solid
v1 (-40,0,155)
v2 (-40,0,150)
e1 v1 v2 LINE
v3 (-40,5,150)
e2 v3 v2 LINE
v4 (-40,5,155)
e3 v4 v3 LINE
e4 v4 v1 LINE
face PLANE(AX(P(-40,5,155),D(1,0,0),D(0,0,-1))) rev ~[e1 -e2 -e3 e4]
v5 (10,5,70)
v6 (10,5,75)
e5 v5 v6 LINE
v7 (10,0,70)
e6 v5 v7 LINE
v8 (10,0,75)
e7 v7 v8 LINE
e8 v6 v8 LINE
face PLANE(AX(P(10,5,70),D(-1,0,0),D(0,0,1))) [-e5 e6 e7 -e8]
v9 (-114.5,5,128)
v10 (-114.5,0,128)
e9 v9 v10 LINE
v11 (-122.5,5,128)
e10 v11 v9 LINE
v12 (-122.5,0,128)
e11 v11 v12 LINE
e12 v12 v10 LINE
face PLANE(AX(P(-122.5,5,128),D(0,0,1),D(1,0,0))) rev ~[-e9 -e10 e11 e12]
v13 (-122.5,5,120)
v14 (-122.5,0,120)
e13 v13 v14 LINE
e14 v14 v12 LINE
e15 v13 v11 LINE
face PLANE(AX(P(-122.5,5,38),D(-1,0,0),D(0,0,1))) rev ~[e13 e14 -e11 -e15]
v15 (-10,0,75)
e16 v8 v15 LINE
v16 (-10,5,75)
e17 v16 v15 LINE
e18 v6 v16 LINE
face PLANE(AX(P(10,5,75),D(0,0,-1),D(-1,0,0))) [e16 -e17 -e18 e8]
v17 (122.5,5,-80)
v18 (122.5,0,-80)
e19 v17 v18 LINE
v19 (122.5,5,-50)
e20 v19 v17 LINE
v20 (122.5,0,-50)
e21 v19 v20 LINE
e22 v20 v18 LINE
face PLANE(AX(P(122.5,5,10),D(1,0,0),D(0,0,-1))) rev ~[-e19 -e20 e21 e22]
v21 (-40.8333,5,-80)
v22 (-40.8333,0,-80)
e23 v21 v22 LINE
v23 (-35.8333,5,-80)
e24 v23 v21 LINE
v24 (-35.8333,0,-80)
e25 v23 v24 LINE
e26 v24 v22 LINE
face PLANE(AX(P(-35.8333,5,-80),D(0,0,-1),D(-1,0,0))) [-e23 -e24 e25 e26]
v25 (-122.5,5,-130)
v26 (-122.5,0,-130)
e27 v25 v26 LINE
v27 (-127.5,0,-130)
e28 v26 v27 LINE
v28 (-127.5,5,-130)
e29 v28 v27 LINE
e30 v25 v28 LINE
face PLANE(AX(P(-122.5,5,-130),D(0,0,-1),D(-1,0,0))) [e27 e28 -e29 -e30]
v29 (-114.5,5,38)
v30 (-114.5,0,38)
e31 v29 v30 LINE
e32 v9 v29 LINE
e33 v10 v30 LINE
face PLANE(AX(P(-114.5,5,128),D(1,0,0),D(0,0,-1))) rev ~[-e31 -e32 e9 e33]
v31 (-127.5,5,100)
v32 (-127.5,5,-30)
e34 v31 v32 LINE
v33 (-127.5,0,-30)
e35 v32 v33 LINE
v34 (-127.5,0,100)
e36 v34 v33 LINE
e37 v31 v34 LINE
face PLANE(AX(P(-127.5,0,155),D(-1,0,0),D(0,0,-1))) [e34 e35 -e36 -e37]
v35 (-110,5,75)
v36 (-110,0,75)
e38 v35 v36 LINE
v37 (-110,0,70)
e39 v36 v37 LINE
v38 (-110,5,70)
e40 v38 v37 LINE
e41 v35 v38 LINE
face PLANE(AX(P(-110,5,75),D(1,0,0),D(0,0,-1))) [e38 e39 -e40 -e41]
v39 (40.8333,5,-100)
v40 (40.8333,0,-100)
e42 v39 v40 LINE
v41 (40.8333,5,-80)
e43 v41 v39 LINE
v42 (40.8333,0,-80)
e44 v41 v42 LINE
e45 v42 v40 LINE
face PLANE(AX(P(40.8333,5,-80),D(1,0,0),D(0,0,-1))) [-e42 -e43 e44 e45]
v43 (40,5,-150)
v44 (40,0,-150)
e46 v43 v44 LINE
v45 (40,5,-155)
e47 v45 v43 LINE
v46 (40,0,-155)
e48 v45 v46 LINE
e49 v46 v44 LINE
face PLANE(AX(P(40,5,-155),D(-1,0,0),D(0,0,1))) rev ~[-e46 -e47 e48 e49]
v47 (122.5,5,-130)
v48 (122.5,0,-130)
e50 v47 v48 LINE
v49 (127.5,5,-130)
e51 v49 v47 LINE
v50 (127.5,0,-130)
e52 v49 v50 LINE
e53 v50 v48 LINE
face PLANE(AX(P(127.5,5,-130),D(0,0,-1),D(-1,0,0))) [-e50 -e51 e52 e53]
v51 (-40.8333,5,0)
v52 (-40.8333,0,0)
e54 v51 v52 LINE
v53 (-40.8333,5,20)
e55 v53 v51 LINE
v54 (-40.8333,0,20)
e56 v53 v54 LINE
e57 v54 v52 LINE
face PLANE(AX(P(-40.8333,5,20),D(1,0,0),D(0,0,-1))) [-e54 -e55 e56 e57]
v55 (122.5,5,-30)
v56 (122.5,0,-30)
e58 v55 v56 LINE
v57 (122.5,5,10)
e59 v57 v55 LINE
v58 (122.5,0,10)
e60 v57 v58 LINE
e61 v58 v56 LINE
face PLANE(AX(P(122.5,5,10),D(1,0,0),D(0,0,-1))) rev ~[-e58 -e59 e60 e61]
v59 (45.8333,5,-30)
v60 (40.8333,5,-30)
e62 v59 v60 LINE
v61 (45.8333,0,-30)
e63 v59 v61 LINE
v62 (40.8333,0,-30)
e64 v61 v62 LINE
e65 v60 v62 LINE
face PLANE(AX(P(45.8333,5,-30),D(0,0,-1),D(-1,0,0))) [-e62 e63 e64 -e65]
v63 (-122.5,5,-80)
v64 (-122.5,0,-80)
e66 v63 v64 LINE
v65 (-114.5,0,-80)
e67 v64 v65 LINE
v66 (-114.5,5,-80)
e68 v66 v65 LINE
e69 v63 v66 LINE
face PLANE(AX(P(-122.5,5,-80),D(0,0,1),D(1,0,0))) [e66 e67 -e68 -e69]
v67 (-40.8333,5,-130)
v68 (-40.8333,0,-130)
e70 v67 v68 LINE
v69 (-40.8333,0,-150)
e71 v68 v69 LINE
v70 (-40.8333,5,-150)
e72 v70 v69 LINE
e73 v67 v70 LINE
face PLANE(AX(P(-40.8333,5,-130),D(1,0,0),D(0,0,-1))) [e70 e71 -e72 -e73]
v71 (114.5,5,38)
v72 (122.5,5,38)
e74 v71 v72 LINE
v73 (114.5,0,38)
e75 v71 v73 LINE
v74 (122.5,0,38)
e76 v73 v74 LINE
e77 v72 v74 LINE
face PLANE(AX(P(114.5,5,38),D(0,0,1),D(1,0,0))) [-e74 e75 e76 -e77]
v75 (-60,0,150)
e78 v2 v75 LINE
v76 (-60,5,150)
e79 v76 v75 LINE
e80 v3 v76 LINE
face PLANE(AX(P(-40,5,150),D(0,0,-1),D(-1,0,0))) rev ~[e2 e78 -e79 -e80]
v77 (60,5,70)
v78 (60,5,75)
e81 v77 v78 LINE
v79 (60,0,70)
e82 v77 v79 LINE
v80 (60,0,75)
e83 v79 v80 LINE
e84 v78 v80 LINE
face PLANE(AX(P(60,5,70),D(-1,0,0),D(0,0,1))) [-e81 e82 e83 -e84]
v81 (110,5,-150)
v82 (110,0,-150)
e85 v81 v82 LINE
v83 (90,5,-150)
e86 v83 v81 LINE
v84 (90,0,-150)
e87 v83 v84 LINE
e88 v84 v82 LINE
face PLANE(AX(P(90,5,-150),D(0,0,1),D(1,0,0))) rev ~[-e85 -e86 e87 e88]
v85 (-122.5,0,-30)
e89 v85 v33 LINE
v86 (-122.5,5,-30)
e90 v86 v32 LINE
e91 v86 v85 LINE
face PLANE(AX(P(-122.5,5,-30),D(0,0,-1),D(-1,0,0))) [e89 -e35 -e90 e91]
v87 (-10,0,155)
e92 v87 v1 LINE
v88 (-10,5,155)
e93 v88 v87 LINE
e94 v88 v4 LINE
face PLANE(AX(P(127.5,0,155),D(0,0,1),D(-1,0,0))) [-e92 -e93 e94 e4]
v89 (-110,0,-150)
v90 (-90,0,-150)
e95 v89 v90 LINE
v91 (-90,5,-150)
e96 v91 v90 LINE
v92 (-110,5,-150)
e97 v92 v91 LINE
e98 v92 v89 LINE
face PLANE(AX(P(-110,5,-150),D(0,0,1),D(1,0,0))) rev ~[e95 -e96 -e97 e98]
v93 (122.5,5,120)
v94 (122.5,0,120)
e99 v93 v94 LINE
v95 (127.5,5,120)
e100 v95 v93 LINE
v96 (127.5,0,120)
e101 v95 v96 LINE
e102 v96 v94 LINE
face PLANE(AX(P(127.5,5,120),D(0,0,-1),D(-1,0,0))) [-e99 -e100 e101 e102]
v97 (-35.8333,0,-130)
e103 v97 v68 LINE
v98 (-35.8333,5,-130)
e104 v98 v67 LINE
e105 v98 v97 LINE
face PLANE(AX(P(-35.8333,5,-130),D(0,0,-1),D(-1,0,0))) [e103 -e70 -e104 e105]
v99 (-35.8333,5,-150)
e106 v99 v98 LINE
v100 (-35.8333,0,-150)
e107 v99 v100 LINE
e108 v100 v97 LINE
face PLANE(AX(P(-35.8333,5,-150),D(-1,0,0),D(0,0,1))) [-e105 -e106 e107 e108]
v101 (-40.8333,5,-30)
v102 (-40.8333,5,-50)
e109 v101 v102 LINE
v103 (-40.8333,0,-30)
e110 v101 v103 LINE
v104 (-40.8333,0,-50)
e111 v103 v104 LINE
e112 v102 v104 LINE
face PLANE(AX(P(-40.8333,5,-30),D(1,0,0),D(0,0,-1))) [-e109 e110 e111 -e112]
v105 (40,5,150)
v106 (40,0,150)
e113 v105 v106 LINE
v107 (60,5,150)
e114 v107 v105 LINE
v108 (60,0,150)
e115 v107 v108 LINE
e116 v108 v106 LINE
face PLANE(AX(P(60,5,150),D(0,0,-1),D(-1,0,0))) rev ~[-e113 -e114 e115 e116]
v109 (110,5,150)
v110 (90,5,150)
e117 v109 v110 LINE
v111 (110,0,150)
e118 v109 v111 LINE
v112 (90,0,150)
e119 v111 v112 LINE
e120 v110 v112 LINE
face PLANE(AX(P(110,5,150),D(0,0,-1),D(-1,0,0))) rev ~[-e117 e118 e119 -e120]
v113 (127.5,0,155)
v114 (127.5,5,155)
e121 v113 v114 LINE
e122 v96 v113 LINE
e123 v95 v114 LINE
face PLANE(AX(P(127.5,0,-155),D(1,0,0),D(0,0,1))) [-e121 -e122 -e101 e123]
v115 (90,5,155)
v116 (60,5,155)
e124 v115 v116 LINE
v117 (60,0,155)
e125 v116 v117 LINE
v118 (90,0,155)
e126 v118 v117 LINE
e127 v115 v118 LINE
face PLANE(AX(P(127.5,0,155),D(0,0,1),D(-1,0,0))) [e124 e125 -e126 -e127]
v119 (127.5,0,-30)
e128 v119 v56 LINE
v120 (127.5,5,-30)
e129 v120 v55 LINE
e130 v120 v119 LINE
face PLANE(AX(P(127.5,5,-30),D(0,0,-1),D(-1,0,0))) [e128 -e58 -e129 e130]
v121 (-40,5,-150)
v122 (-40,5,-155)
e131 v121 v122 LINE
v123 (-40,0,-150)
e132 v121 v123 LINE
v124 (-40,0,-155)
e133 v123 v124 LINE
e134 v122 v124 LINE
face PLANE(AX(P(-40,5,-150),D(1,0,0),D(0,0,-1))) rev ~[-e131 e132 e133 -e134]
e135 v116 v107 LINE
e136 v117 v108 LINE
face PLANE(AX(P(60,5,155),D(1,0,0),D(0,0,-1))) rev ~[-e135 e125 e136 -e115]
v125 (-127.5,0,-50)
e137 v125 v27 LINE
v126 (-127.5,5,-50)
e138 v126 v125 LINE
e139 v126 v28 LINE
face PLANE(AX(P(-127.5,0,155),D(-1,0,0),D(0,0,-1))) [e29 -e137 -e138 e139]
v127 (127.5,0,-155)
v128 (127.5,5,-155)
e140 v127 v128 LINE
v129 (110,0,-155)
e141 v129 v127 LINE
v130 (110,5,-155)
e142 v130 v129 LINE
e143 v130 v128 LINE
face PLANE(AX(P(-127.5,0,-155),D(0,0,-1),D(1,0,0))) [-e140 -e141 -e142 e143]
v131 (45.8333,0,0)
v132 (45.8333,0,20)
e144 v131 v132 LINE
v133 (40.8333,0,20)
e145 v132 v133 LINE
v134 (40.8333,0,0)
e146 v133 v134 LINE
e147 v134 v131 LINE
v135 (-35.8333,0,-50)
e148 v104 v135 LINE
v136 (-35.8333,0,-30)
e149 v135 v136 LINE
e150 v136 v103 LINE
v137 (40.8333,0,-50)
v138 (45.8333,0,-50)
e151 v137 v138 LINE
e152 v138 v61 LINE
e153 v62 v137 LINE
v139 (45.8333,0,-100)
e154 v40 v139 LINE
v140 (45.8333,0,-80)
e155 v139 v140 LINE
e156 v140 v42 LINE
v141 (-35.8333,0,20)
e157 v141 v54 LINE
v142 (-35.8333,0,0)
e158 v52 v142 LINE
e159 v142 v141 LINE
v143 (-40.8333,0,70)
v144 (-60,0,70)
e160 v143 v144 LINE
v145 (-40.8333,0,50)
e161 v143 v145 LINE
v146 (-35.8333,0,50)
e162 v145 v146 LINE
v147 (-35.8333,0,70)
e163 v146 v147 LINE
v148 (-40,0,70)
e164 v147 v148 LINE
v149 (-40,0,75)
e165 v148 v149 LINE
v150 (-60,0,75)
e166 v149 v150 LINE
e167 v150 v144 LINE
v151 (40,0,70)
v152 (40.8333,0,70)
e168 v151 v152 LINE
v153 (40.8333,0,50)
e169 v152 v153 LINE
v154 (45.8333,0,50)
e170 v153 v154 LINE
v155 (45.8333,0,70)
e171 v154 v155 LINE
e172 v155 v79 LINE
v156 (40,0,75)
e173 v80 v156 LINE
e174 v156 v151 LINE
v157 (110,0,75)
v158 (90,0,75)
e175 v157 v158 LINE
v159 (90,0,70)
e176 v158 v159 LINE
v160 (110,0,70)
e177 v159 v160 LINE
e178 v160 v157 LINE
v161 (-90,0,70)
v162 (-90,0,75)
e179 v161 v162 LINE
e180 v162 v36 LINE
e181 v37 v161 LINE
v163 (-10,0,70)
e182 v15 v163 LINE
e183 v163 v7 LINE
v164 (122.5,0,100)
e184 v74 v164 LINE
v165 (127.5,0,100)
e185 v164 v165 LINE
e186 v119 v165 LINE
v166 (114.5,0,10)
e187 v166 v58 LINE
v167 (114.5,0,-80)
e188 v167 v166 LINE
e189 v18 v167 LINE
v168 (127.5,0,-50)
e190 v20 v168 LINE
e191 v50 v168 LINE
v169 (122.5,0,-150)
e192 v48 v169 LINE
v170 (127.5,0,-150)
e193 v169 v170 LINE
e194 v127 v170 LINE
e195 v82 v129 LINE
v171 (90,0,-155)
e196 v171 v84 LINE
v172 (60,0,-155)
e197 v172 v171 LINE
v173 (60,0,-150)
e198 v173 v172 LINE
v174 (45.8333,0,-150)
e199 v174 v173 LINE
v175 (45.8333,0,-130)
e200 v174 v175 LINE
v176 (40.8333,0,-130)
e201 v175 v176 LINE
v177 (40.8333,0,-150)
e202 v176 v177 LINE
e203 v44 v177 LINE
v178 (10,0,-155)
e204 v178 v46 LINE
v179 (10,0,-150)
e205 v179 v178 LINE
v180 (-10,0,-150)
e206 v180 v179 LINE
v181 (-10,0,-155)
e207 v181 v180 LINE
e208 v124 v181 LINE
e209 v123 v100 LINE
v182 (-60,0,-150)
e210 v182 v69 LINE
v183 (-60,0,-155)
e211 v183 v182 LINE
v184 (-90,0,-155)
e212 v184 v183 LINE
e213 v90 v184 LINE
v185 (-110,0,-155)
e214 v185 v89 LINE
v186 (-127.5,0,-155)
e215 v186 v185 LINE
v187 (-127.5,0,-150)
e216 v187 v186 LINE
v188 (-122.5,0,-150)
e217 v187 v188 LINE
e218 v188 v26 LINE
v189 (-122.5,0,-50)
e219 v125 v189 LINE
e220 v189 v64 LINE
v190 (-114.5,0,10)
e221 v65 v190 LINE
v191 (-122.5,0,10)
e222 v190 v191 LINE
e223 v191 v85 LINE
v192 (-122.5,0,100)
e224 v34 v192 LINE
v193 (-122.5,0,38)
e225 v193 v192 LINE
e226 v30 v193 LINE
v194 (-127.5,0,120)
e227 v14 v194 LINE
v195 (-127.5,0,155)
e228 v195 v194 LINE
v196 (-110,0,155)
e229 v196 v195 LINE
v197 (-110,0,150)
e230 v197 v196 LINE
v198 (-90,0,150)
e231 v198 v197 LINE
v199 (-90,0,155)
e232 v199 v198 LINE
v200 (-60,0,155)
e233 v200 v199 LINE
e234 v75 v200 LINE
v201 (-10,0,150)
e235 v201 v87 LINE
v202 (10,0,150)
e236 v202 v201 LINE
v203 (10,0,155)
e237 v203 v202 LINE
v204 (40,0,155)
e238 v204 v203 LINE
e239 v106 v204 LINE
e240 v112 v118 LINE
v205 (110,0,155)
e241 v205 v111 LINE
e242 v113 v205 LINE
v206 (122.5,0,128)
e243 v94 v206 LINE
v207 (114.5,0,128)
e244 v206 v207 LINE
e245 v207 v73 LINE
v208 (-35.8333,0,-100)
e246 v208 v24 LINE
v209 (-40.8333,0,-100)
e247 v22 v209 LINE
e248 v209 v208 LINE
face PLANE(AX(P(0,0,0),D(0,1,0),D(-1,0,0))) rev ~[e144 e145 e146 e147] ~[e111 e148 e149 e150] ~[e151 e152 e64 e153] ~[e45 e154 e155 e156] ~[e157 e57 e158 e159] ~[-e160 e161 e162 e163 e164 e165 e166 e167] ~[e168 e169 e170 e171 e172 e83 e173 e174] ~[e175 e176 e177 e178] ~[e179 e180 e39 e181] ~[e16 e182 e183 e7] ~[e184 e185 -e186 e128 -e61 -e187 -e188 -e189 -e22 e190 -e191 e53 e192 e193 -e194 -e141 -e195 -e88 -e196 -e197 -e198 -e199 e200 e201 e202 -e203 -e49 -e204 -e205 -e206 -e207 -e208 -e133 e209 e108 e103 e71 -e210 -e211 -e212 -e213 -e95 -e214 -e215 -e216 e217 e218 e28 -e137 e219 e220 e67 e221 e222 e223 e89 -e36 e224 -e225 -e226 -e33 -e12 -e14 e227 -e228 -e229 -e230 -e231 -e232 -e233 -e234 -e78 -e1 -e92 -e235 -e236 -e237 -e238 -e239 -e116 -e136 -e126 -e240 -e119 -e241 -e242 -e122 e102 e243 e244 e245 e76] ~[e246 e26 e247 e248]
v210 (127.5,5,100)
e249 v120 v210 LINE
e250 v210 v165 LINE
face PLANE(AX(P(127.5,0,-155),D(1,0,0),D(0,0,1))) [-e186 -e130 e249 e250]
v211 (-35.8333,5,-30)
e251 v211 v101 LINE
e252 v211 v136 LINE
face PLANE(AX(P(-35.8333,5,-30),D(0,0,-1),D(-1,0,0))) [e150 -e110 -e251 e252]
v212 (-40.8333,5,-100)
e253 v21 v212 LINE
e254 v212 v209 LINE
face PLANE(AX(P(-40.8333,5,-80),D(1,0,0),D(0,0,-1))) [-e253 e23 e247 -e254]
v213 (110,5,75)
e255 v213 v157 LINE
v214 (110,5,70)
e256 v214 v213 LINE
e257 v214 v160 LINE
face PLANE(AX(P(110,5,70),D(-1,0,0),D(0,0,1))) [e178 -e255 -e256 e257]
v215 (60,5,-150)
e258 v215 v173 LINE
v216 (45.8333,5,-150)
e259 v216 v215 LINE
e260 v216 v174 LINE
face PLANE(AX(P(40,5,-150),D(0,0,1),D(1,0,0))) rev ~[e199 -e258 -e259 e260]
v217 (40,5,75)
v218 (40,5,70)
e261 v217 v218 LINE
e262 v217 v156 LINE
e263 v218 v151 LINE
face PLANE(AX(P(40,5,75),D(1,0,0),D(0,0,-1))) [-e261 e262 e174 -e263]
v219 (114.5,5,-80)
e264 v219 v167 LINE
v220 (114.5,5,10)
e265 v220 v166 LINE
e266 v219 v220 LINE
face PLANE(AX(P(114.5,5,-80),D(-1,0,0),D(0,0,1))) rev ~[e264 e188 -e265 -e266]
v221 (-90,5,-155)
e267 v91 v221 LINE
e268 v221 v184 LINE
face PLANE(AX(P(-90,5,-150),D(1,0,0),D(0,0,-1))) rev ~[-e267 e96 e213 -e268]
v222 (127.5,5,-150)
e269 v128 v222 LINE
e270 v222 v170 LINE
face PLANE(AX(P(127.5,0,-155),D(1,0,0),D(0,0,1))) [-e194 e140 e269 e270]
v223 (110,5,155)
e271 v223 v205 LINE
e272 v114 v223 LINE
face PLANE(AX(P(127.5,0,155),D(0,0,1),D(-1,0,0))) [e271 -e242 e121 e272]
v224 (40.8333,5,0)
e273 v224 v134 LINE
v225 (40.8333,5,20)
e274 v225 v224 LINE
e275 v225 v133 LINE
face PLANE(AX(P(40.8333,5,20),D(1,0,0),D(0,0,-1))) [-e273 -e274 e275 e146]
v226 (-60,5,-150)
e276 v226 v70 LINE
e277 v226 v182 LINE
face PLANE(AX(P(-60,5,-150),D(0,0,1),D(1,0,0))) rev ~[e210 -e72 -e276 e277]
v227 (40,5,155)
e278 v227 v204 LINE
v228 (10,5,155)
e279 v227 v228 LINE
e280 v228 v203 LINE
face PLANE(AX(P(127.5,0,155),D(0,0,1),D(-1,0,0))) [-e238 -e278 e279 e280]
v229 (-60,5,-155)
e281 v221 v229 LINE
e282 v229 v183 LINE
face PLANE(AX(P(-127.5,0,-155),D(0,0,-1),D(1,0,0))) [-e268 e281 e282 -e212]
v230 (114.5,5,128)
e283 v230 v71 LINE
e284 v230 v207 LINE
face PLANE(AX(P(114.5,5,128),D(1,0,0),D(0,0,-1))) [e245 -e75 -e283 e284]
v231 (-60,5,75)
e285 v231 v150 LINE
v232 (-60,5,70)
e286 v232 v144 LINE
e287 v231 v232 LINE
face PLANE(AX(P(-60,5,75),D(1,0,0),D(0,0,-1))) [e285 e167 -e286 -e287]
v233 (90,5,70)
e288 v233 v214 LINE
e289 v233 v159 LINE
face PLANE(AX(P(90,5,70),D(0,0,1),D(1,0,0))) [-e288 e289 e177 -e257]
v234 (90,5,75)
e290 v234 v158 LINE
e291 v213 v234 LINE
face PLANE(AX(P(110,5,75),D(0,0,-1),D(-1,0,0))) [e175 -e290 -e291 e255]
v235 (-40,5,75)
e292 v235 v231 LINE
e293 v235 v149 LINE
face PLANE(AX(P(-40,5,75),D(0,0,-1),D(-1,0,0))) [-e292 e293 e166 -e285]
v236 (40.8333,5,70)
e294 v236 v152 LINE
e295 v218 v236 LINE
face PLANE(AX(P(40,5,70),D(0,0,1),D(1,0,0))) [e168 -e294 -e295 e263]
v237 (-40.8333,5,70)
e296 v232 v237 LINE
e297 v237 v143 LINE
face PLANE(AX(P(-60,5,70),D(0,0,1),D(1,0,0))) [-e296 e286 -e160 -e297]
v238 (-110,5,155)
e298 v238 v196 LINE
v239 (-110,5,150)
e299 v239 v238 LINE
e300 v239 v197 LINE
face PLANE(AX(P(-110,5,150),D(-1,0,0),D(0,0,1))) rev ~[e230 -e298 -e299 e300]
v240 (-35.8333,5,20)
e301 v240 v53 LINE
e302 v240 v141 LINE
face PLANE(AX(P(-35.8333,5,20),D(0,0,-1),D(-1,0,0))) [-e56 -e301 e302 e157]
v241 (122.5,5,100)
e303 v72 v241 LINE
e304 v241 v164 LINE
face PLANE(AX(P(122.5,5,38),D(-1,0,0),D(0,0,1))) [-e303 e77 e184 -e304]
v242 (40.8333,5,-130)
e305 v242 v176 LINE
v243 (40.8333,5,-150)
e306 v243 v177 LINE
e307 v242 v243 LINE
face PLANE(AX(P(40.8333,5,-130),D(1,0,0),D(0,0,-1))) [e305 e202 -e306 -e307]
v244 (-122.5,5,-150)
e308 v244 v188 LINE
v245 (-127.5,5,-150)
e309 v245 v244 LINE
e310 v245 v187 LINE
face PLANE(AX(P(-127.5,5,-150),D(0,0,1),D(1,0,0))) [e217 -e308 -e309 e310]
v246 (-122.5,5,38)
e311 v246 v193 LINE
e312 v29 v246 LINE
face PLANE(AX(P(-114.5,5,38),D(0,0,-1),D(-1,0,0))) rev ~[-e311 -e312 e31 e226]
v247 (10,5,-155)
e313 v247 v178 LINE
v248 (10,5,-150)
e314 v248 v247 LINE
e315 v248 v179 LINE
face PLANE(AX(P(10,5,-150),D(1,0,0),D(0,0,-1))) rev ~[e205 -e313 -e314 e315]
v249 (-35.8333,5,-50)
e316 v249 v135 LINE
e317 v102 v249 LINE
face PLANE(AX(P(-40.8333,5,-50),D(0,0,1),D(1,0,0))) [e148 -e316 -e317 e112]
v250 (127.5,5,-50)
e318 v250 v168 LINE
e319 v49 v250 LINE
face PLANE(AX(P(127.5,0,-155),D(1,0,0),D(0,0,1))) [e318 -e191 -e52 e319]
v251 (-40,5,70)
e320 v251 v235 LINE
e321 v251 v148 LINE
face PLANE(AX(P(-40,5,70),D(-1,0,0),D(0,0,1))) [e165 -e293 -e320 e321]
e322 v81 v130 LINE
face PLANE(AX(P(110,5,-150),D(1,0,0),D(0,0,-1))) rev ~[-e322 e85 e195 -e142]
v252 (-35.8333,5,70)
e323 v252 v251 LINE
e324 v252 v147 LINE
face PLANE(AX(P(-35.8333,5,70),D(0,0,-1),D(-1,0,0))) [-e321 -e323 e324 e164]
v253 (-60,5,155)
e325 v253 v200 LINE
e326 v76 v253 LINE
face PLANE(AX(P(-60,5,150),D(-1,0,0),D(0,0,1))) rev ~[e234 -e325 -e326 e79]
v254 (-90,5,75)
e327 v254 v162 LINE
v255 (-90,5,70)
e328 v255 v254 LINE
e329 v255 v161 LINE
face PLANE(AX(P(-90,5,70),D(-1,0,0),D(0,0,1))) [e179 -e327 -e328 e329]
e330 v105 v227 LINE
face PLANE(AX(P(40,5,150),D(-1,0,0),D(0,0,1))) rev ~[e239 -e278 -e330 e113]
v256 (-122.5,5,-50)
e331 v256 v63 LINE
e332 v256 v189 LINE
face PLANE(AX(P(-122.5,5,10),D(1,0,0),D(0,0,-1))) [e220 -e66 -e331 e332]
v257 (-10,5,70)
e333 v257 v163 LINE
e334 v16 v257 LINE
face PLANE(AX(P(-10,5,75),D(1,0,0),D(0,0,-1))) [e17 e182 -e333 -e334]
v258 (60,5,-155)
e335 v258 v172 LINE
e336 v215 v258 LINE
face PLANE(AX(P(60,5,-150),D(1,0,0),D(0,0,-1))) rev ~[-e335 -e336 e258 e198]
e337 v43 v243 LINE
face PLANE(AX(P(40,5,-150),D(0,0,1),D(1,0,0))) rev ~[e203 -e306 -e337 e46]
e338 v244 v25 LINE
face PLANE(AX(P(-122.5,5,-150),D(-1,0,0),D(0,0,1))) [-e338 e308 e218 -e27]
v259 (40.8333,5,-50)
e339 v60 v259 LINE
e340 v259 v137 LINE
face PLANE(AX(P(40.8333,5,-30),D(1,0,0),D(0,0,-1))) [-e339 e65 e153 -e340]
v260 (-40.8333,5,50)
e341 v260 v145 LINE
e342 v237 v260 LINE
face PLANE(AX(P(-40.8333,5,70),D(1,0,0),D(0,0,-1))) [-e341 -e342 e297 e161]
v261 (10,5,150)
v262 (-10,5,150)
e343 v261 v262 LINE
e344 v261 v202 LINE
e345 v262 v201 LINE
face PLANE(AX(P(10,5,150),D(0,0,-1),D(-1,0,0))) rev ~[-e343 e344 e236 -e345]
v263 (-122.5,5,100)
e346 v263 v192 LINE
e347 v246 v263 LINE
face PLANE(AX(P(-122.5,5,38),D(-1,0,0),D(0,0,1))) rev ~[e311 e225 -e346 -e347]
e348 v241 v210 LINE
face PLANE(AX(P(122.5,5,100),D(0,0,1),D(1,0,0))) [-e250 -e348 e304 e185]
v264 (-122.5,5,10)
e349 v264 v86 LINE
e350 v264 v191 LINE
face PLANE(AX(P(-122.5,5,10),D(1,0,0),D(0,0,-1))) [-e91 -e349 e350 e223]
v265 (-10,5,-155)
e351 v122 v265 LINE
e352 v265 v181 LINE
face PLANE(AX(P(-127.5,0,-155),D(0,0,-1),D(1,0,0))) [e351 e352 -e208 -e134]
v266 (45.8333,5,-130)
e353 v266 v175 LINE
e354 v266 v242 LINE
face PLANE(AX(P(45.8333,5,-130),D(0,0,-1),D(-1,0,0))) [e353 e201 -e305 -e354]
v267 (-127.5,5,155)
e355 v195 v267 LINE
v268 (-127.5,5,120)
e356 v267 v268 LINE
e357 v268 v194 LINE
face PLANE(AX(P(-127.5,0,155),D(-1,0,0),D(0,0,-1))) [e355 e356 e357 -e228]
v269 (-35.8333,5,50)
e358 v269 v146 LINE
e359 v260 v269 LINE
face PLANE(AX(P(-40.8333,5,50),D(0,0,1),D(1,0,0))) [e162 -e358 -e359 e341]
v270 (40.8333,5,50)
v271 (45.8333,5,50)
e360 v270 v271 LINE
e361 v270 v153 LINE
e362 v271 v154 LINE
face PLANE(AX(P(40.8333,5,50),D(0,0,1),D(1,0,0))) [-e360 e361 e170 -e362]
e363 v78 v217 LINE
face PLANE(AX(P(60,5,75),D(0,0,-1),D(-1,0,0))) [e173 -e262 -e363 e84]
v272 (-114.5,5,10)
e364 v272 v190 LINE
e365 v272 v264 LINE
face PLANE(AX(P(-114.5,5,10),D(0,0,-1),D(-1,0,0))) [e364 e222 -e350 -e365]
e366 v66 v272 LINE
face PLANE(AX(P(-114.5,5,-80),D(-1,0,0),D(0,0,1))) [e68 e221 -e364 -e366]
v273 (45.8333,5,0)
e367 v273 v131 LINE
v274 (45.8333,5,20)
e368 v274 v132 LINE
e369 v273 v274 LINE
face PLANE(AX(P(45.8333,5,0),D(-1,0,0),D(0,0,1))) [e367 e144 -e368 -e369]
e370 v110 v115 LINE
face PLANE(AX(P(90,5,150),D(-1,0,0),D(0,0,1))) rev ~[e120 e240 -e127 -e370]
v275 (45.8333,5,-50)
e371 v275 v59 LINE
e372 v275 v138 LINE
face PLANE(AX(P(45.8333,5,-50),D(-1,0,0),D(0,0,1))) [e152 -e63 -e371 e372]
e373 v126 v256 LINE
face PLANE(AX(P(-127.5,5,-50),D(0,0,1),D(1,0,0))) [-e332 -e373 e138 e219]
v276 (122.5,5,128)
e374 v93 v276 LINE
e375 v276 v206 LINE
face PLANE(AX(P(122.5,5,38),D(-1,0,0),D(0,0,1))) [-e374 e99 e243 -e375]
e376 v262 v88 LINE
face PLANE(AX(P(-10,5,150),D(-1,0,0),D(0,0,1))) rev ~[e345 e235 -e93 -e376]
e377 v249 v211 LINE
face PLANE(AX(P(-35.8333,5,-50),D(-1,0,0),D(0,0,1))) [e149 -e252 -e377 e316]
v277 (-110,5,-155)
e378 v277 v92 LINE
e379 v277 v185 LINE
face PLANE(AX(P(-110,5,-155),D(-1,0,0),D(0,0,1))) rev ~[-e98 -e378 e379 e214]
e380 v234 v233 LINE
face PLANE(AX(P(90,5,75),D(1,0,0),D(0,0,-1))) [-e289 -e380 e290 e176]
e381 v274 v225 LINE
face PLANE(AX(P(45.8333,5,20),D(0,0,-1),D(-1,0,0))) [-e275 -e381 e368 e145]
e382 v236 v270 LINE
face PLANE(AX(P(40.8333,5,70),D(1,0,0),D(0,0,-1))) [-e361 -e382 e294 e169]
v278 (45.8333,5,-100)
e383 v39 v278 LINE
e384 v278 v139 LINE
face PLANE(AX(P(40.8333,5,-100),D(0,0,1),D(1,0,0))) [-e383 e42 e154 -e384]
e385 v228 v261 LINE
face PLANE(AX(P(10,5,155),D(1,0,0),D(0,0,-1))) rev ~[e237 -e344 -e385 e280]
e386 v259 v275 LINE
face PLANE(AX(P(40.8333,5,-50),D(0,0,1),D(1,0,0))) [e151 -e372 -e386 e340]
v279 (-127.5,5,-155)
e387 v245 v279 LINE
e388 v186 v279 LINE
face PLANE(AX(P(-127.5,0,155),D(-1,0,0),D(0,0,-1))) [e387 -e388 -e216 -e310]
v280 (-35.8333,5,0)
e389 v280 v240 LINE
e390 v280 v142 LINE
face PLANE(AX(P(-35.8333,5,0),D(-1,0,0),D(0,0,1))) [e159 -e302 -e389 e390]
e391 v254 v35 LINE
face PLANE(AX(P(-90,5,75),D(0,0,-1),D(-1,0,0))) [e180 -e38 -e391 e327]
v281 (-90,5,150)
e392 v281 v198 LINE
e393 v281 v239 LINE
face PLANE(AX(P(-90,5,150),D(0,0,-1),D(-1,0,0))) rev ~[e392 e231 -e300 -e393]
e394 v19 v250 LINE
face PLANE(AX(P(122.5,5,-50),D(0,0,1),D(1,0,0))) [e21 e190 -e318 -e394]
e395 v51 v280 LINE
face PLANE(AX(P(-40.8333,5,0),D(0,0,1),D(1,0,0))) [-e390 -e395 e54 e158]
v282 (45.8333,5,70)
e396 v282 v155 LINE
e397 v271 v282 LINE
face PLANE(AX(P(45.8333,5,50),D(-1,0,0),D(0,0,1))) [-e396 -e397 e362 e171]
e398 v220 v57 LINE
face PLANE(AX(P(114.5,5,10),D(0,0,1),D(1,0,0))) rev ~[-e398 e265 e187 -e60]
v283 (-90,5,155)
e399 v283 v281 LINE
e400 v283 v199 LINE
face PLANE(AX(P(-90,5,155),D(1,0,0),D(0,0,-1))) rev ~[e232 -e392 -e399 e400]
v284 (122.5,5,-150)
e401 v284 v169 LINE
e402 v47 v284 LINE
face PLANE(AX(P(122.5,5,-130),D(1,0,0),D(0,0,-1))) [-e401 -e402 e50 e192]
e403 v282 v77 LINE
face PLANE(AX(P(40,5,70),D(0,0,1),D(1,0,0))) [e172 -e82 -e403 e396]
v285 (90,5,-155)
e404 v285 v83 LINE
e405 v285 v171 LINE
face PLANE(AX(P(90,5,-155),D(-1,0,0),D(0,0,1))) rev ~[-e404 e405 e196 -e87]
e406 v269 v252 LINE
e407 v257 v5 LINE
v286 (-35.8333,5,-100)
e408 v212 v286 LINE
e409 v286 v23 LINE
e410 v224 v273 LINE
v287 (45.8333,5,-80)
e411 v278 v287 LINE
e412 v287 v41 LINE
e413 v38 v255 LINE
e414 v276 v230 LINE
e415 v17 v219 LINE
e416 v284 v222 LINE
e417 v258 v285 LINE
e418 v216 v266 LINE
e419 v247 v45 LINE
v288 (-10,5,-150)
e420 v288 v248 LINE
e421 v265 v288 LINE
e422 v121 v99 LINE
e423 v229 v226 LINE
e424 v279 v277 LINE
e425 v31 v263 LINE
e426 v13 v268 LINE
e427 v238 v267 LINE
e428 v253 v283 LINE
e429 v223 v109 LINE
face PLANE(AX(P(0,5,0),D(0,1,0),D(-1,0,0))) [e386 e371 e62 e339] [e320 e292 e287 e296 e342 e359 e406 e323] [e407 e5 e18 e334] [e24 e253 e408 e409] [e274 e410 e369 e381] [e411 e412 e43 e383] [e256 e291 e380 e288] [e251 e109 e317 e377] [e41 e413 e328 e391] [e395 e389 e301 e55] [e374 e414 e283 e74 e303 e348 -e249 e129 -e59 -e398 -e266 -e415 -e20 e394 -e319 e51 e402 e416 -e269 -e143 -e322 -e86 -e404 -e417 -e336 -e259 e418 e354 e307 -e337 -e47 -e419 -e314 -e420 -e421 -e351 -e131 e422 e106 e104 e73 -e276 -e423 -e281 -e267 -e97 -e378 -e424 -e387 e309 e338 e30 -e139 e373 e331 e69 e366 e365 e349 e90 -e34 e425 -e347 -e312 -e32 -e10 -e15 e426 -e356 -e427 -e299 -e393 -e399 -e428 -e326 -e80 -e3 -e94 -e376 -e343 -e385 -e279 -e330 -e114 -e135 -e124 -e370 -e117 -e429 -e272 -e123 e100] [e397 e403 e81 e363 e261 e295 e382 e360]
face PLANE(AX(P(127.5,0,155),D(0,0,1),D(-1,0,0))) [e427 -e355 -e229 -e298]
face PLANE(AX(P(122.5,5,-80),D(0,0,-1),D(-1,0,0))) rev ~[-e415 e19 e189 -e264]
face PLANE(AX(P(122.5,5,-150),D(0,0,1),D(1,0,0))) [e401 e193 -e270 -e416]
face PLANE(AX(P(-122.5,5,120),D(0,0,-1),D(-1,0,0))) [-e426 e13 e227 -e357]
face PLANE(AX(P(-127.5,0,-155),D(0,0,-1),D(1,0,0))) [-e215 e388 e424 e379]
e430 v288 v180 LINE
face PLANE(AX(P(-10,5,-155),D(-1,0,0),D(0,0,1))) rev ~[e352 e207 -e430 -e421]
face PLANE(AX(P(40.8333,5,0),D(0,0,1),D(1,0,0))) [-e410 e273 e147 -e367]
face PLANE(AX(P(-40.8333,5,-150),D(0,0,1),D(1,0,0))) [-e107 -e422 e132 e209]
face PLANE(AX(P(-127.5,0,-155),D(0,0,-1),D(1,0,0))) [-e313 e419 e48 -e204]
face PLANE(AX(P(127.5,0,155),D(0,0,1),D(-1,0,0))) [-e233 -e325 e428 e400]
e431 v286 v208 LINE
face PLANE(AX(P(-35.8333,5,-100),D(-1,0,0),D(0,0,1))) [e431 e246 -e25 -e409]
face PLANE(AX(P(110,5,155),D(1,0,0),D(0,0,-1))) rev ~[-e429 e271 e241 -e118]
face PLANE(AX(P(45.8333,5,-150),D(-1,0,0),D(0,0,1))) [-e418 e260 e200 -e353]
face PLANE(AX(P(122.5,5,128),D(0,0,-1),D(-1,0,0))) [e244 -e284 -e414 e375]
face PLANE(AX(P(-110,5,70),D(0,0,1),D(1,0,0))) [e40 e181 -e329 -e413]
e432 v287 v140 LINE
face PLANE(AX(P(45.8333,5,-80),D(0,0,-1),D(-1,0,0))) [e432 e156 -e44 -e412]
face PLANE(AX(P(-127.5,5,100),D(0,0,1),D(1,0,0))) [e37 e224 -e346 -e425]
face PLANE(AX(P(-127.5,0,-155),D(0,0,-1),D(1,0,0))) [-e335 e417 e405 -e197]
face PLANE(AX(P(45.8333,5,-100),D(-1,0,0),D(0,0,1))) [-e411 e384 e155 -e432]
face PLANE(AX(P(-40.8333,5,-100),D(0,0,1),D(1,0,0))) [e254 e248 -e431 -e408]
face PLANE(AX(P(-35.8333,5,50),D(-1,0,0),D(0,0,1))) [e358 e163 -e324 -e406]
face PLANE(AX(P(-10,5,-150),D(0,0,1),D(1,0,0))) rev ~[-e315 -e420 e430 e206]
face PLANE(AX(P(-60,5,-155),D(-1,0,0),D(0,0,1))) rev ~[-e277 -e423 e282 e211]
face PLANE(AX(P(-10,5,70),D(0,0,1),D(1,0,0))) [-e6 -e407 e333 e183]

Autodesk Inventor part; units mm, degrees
ref_plane "YZ Plane" through (0, 0, 0) normal (1, 0, 0) x (0, 1, 0)
ref_plane "XZ Plane" through (0, 0, 0) normal (0, 1, 0) x (-1, 0, 0)
ref_plane "XY Plane" through (0, 0, 0) normal (0, 0, 1) x (1, 0, 0)
sketch "Sketch1" plane through (0, 0, 0) normal (0, 1, 0) x (-1, 0, 0)
  line L0 (127.5, -155) -> (-127.5, -155)
  line L1 (-127.5, -155) -> (-127.5, 155)
  line L2 (-127.5, 155) -> (127.5, 155)
  line L3 (127.5, 155) -> (127.5, -155)
  line L4 (127.5, -155) -> (-127.5, 155) construction
  line L5 (-127.5, -155) -> (127.5, 155) construction
  point P0 (0, 0)
  dimension "d0" = 255
  dimension "d1" = 310
extrude "base" add sketch "Sketch1" along normal blind 5
sketch "Sketch3" plane through (0, 5, 0) normal (0, 1, 0) x (1, 0, 0)
  line L0 (127.5, 155) -> (-127.5, 155)
  line L1 (-127.5, 155) -> (-127.5, -155)
  line L2 (-127.5, 150) -> (-122.5, 150)
  line L3 (-122.5, 150) -> (-122.5, 130)
  line L4 (-122.5, 130) -> (-127.5, 130)
  line L5 (-127.5, 130) -> (-127.5, 150)
  line L6 (-127.5, 100) -> (-122.5, 100)
  line L7 (-122.5, 100) -> (-122.5, 80)
  line L8 (-122.5, 80) -> (-127.5, 80)
  line L9 (-127.5, 80) -> (-127.5, 100)
  line L10 (-127.5, 50) -> (-122.5, 50)
  line L11 (-122.5, 50) -> (-122.5, 30)
  line L12 (-122.5, 30) -> (-127.5, 30)
  line L13 (-127.5, 30) -> (-127.5, 50)
  line L14 (-127.5, 0) -> (-122.5, 0)
  line L15 (-122.5, 0) -> (-122.5, -20)
  line L16 (-122.5, -20) -> (-127.5, -20)
  line L17 (-127.5, -20) -> (-127.5, 0)
  line L18 (-127.5, -50) -> (-122.5, -50)
  line L19 (-122.5, -50) -> (-122.5, -70)
  line L20 (-122.5, -70) -> (-127.5, -70)
  line L21 (-127.5, -70) -> (-127.5, -50)
  line L22 (-127.5, -100) -> (-122.5, -100)
  line L23 (-122.5, -100) -> (-122.5, -120)
  line L24 (-122.5, -120) -> (-127.5, -120)
  line L25 (-127.5, -120) -> (-127.5, -100)
  line L26 (122.5, 50) -> (127.5, 50)
  line L27 (127.5, 30) -> (122.5, 30)
  line L28 (127.5, 50) -> (127.5, 30)
  line L29 (122.5, 30) -> (122.5, 50)
  line L30 (122.5, 0) -> (127.5, 0)
  line L31 (127.5, 0) -> (127.5, -20)
  line L32 (127.5, -20) -> (122.5, -20)
  line L33 (122.5, -20) -> (122.5, 0)
  line L34 (122.5, -50) -> (127.5, -50)
  line L35 (127.5, -50) -> (127.5, -70)
  line L36 (127.5, -70) -> (122.5, -70)
  line L37 (122.5, -70) -> (122.5, -50)
  line L38 (122.5, -100) -> (127.5, -100)
  line L39 (127.5, -100) -> (127.5, -120)
  line L40 (127.5, -120) -> (122.5, -120)
  line L41 (122.5, -120) -> (122.5, -100)
  line L42 (127.5, 80) -> (122.5, 80)
  line L43 (127.5, 100) -> (127.5, 80)
  line L44 (122.5, 80) -> (122.5, 100)
  line L45 (122.5, 100) -> (127.5, 100)
  line L46 (127.5, 130) -> (122.5, 130)
  line L47 (127.5, 150) -> (127.5, 130)
  line L48 (122.5, 130) -> (122.5, 150)
  line L49 (122.5, 150) -> (127.5, 150)
  point P0 (0, 0)
  point P1 (-127.5, 105)
  point P2 (-127.5, 55)
  point P3 (-127.5, 5)
  point P4 (-127.5, -45)
  point P5 (-127.5, -95)
  point P6 (122.5, 155)
  point P7 (122.5, 55)
  point P8 (122.5, 5)
  point P9 (122.5, -95)
  point P10 (122.5, -45)
  point P11 (122.5, 105)
  dimension "d4" = 5
  dimension "d5" = 20
  dimension "d8" = 50
  dimension "d15" = 250
extrude "Encaixe Laterais" cut sketch "Sketch3" against normal blind 5 contours L2 L3 L4 L1 | L22 L23 L24 L1 | L10 L11 L12 L1 | L26 L28 L27 L29 | L38 L39 L40 L41 | L46 L48 L49 L47
sketch "Sketch4" plane through (0, 5, 0) normal (0, 1, 0) x (1, 0, 0)
  line L0 (-127.5, 150) -> (-122.5, 150) projected
  line L1 (122.5, 150) -> (127.5, 150) projected
  line L2 (-122.5, 150) -> (122.5, 150)
  line L3 (-40.8333, 150) -> (-35.8333, 150)
  line L4 (-35.8333, 150) -> (-35.8333, 130)
  line L5 (-35.8333, 130) -> (-40.8333, 130)
  line L6 (-40.8333, 130) -> (-40.8333, 150)
  line L7 (40.8333, 150) -> (45.8333, 150)
  line L8 (45.8333, 150) -> (45.8333, 130)
  line L9 (45.8333, 130) -> (40.8333, 130)
  line L10 (40.8333, 130) -> (40.8333, 150)
  line L11 (-40.8333, 100) -> (-35.8333, 100)
  line L12 (-35.8333, 100) -> (-35.8333, 80)
  line L13 (-35.8333, 80) -> (-40.8333, 80)
  line L14 (-40.8333, 80) -> (-40.8333, 100)
  line L15 (40.8333, 100) -> (45.8333, 100)
  line L16 (45.8333, 100) -> (45.8333, 80)
  line L17 (45.8333, 80) -> (40.8333, 80)
  line L18 (40.8333, 80) -> (40.8333, 100)
  line L19 (-40.8333, 50) -> (-35.8333, 50)
  line L20 (-35.8333, 50) -> (-35.8333, 30)
  line L21 (-35.8333, 30) -> (-40.8333, 30)
  line L22 (-40.8333, 30) -> (-40.8333, 50)
  line L23 (40.8333, 50) -> (45.8333, 50)
  line L24 (45.8333, 50) -> (45.8333, 30)
  line L25 (45.8333, 30) -> (40.8333, 30)
  line L26 (40.8333, 30) -> (40.8333, 50)
  line L27 (-40.8333, 0) -> (-35.8333, 0)
  line L28 (-35.8333, 0) -> (-35.8333, -20)
  line L29 (-35.8333, -20) -> (-40.8333, -20)
  line L30 (-40.8333, -20) -> (-40.8333, 0)
  line L31 (40.8333, 0) -> (45.8333, 0)
  line L32 (45.8333, 0) -> (45.8333, -20)
  line L33 (45.8333, -20) -> (40.8333, -20)
  line L34 (40.8333, -20) -> (40.8333, 0)
  line L35 (-40.8333, -50) -> (-35.8333, -50)
  line L36 (-35.8333, -50) -> (-35.8333, -70)
  line L37 (-35.8333, -70) -> (-40.8333, -70)
  line L38 (-40.8333, -70) -> (-40.8333, -50)
  line L39 (40.8333, -50) -> (45.8333, -50)
  line L40 (45.8333, -50) -> (45.8333, -70)
  line L41 (45.8333, -70) -> (40.8333, -70)
  line L42 (40.8333, -70) -> (40.8333, -50)
  point P0 (0, 0)
  dimension "d22" = 245
  dimension "d23" = 5
  dimension "d24" = 20
  dimension "d25" = 81.6667
  dimension "d28" = 81.6667
  dimension "d31" = 50
extrude "Encaixe Divisórias 22cm" cut sketch "Sketch4" against normal blind 5
sketch "Sketch5" plane through (0, 5, 0) normal (0, 1, 0) x (1, 0, 0)
  line L0 (-127.5, -155) -> (127.5, -155) projected
  line L1 (-110, -155) -> (-90, -155)
  line L2 (-90, -155) -> (-90, -150)
  line L3 (-90, -150) -> (-110, -150)
  line L4 (-110, -150) -> (-110, -155)
  line L5 (-60, -155) -> (-40, -155)
  line L6 (-40, -155) -> (-40, -150)
  line L7 (-40, -150) -> (-60, -150)
  line L8 (-60, -150) -> (-60, -155)
  line L9 (-10, -155) -> (10, -155)
  line L10 (10, -155) -> (10, -150)
  line L11 (10, -150) -> (-10, -150)
  line L12 (-10, -150) -> (-10, -155)
  line L13 (40, -155) -> (60, -155)
  line L14 (60, -155) -> (60, -150)
  line L15 (60, -150) -> (40, -150)
  line L16 (40, -150) -> (40, -155)
  line L17 (90, -155) -> (110, -155)
  line L18 (110, -155) -> (110, -150)
  line L19 (110, -150) -> (90, -150)
  line L20 (90, -150) -> (90, -155)
  line L21 (-110, 155) -> (-110, 150)
  line L22 (-90, 155) -> (-110, 155)
  line L23 (-110, 150) -> (-90, 150)
  line L24 (-90, 150) -> (-90, 155)
  line L25 (-60, 155) -> (-60, 150)
  line L26 (-40, 155) -> (-60, 155)
  line L27 (-40, 150) -> (-40, 155)
  line L28 (-10, 155) -> (-10, 150)
  line L29 (10, 155) -> (-10, 155)
  line L30 (10, 150) -> (10, 155)
  line L31 (-10, 150) -> (10, 150)
  line L32 (-60, 150) -> (-40, 150)
  line L33 (40, 155) -> (40, 150)
  line L34 (40, 150) -> (60, 150)
  line L35 (60, 155) -> (40, 155)
  line L36 (60, 150) -> (60, 155)
  line L37 (90, 155) -> (90, 150)
  line L38 (90, 150) -> (110, 150)
  line L39 (110, 155) -> (90, 155)
  line L40 (110, 150) -> (110, 155)
  point P0 (0, 0)
  dimension "d36" = 20
  dimension "d37" = 5
  dimension "d40" = 50
  dimension "d45" = 17.5
  dimension "d46" = 17.5
  dimension "d49" = 305
extrude "Extrusion4" cut sketch "Sketch5" against normal blind 5
sketch "Sketch6" plane through (0, 5, 0) normal (0, 1, 0) x (1, 0, 0)
  line L0 (-110, -155) -> (-110, -150) projected
  line L1 (110, -150) -> (110, -155) projected
  line L2 (-35.8333, -70) -> (-40.8333, -70) projected
  line L3 (-110, -70) -> (-90, -70)
  line L4 (-90, -70) -> (-90, -75)
  line L5 (-90, -75) -> (-110, -75)
  line L6 (-110, -75) -> (-110, -70)
  line L7 (-60, -70) -> (-40, -70)
  line L8 (-40, -70) -> (-40, -75)
  line L9 (-40, -75) -> (-60, -75)
  line L10 (-60, -75) -> (-60, -70)
  line L11 (-10, -70) -> (10, -70)
  line L12 (10, -70) -> (10, -75)
  line L13 (10, -75) -> (-10, -75)
  line L14 (-10, -75) -> (-10, -70)
  line L15 (40, -70) -> (60, -70)
  line L16 (60, -70) -> (60, -75)
  line L17 (60, -75) -> (40, -75)
  line L18 (40, -75) -> (40, -70)
  line L19 (90, -70) -> (110, -70)
  line L20 (110, -70) -> (110, -75)
  line L21 (110, -75) -> (90, -75)
  line L22 (90, -75) -> (90, -70)
  point P0 (0, 0)
  dimension "d56" = 20
  dimension "d57" = 5
  dimension "d60" = 50
extrude "Extrusion5" cut sketch "Sketch6" against normal blind 5
sketch "Sketch7" plane through (0, 5, 0) normal (0, 1, 0) x (1, 0, 0)
  line L0 (-127.5, -155) -> (-110, -155) projected
  line L1 (-90, -155) -> (-60, -155) projected
  line L2 (-114.5, -10) -> (-122.5, -10)
  line L3 (-122.5, -10) -> (-122.5, 80)
  line L4 (-122.5, 80) -> (-114.5, 80)
  line L5 (-114.5, 80) -> (-114.5, -10)
  line L6 (-114.5, -10) -> (-122.5, 80) construction
  line L7 (-122.5, -10) -> (-114.5, 80) construction
  line L8 (-127.5, 155) -> (-127.5, 150) projected
  line L9 (-122.5, -128) -> (-114.5, -128)
  line L10 (-114.5, -128) -> (-114.5, -38)
  line L11 (-114.5, -38) -> (-122.5, -38)
  line L12 (-122.5, -38) -> (-122.5, -128)
  line L13 (-122.5, -128) -> (-114.5, -38) construction
  line L14 (-114.5, -128) -> (-122.5, -38) construction
  line L15 (0, -20) -> (0, -40)
  line L16 (114.5, -10) -> (122.5, -10)
  line L17 (122.5, -10) -> (122.5, 80)
  line L18 (122.5, 80) -> (114.5, 80)
  line L19 (114.5, 80) -> (114.5, -10)
  line L20 (114.5, -10) -> (122.5, 80) construction
  line L21 (122.5, -10) -> (114.5, 80) construction
  line L22 (127.5, -20) -> (127.5, -50)
  line L23 (122.5, -128) -> (114.5, -128)
  line L24 (114.5, -128) -> (114.5, -38)
  line L25 (114.5, -38) -> (122.5, -38)
  line L26 (122.5, -38) -> (122.5, -128)
  line L27 (122.5, -128) -> (114.5, -38) construction
  line L28 (114.5, -128) -> (122.5, -38) construction
  point P0 (0, 0)
  point P1 (-118.5, 35)
  point P2 (-127.5, -20)
  point P3 (-127.5, -50)
  point P4 (-118.5, -83)
  point P5 (118.5, 35)
  point P6 (118.5, -83)
  dimension "d67" = 8
  dimension "d68" = 90
  dimension "d69" = 5
  dimension "d71" = 8
  dimension "d72" = 90
  dimension "d78" = 5
  dimension "d79" = 27
  dimension "d80" = 145
extrude "Extrusion6" cut sketch "Sketch7" against normal blind 5
properties part number "base"
